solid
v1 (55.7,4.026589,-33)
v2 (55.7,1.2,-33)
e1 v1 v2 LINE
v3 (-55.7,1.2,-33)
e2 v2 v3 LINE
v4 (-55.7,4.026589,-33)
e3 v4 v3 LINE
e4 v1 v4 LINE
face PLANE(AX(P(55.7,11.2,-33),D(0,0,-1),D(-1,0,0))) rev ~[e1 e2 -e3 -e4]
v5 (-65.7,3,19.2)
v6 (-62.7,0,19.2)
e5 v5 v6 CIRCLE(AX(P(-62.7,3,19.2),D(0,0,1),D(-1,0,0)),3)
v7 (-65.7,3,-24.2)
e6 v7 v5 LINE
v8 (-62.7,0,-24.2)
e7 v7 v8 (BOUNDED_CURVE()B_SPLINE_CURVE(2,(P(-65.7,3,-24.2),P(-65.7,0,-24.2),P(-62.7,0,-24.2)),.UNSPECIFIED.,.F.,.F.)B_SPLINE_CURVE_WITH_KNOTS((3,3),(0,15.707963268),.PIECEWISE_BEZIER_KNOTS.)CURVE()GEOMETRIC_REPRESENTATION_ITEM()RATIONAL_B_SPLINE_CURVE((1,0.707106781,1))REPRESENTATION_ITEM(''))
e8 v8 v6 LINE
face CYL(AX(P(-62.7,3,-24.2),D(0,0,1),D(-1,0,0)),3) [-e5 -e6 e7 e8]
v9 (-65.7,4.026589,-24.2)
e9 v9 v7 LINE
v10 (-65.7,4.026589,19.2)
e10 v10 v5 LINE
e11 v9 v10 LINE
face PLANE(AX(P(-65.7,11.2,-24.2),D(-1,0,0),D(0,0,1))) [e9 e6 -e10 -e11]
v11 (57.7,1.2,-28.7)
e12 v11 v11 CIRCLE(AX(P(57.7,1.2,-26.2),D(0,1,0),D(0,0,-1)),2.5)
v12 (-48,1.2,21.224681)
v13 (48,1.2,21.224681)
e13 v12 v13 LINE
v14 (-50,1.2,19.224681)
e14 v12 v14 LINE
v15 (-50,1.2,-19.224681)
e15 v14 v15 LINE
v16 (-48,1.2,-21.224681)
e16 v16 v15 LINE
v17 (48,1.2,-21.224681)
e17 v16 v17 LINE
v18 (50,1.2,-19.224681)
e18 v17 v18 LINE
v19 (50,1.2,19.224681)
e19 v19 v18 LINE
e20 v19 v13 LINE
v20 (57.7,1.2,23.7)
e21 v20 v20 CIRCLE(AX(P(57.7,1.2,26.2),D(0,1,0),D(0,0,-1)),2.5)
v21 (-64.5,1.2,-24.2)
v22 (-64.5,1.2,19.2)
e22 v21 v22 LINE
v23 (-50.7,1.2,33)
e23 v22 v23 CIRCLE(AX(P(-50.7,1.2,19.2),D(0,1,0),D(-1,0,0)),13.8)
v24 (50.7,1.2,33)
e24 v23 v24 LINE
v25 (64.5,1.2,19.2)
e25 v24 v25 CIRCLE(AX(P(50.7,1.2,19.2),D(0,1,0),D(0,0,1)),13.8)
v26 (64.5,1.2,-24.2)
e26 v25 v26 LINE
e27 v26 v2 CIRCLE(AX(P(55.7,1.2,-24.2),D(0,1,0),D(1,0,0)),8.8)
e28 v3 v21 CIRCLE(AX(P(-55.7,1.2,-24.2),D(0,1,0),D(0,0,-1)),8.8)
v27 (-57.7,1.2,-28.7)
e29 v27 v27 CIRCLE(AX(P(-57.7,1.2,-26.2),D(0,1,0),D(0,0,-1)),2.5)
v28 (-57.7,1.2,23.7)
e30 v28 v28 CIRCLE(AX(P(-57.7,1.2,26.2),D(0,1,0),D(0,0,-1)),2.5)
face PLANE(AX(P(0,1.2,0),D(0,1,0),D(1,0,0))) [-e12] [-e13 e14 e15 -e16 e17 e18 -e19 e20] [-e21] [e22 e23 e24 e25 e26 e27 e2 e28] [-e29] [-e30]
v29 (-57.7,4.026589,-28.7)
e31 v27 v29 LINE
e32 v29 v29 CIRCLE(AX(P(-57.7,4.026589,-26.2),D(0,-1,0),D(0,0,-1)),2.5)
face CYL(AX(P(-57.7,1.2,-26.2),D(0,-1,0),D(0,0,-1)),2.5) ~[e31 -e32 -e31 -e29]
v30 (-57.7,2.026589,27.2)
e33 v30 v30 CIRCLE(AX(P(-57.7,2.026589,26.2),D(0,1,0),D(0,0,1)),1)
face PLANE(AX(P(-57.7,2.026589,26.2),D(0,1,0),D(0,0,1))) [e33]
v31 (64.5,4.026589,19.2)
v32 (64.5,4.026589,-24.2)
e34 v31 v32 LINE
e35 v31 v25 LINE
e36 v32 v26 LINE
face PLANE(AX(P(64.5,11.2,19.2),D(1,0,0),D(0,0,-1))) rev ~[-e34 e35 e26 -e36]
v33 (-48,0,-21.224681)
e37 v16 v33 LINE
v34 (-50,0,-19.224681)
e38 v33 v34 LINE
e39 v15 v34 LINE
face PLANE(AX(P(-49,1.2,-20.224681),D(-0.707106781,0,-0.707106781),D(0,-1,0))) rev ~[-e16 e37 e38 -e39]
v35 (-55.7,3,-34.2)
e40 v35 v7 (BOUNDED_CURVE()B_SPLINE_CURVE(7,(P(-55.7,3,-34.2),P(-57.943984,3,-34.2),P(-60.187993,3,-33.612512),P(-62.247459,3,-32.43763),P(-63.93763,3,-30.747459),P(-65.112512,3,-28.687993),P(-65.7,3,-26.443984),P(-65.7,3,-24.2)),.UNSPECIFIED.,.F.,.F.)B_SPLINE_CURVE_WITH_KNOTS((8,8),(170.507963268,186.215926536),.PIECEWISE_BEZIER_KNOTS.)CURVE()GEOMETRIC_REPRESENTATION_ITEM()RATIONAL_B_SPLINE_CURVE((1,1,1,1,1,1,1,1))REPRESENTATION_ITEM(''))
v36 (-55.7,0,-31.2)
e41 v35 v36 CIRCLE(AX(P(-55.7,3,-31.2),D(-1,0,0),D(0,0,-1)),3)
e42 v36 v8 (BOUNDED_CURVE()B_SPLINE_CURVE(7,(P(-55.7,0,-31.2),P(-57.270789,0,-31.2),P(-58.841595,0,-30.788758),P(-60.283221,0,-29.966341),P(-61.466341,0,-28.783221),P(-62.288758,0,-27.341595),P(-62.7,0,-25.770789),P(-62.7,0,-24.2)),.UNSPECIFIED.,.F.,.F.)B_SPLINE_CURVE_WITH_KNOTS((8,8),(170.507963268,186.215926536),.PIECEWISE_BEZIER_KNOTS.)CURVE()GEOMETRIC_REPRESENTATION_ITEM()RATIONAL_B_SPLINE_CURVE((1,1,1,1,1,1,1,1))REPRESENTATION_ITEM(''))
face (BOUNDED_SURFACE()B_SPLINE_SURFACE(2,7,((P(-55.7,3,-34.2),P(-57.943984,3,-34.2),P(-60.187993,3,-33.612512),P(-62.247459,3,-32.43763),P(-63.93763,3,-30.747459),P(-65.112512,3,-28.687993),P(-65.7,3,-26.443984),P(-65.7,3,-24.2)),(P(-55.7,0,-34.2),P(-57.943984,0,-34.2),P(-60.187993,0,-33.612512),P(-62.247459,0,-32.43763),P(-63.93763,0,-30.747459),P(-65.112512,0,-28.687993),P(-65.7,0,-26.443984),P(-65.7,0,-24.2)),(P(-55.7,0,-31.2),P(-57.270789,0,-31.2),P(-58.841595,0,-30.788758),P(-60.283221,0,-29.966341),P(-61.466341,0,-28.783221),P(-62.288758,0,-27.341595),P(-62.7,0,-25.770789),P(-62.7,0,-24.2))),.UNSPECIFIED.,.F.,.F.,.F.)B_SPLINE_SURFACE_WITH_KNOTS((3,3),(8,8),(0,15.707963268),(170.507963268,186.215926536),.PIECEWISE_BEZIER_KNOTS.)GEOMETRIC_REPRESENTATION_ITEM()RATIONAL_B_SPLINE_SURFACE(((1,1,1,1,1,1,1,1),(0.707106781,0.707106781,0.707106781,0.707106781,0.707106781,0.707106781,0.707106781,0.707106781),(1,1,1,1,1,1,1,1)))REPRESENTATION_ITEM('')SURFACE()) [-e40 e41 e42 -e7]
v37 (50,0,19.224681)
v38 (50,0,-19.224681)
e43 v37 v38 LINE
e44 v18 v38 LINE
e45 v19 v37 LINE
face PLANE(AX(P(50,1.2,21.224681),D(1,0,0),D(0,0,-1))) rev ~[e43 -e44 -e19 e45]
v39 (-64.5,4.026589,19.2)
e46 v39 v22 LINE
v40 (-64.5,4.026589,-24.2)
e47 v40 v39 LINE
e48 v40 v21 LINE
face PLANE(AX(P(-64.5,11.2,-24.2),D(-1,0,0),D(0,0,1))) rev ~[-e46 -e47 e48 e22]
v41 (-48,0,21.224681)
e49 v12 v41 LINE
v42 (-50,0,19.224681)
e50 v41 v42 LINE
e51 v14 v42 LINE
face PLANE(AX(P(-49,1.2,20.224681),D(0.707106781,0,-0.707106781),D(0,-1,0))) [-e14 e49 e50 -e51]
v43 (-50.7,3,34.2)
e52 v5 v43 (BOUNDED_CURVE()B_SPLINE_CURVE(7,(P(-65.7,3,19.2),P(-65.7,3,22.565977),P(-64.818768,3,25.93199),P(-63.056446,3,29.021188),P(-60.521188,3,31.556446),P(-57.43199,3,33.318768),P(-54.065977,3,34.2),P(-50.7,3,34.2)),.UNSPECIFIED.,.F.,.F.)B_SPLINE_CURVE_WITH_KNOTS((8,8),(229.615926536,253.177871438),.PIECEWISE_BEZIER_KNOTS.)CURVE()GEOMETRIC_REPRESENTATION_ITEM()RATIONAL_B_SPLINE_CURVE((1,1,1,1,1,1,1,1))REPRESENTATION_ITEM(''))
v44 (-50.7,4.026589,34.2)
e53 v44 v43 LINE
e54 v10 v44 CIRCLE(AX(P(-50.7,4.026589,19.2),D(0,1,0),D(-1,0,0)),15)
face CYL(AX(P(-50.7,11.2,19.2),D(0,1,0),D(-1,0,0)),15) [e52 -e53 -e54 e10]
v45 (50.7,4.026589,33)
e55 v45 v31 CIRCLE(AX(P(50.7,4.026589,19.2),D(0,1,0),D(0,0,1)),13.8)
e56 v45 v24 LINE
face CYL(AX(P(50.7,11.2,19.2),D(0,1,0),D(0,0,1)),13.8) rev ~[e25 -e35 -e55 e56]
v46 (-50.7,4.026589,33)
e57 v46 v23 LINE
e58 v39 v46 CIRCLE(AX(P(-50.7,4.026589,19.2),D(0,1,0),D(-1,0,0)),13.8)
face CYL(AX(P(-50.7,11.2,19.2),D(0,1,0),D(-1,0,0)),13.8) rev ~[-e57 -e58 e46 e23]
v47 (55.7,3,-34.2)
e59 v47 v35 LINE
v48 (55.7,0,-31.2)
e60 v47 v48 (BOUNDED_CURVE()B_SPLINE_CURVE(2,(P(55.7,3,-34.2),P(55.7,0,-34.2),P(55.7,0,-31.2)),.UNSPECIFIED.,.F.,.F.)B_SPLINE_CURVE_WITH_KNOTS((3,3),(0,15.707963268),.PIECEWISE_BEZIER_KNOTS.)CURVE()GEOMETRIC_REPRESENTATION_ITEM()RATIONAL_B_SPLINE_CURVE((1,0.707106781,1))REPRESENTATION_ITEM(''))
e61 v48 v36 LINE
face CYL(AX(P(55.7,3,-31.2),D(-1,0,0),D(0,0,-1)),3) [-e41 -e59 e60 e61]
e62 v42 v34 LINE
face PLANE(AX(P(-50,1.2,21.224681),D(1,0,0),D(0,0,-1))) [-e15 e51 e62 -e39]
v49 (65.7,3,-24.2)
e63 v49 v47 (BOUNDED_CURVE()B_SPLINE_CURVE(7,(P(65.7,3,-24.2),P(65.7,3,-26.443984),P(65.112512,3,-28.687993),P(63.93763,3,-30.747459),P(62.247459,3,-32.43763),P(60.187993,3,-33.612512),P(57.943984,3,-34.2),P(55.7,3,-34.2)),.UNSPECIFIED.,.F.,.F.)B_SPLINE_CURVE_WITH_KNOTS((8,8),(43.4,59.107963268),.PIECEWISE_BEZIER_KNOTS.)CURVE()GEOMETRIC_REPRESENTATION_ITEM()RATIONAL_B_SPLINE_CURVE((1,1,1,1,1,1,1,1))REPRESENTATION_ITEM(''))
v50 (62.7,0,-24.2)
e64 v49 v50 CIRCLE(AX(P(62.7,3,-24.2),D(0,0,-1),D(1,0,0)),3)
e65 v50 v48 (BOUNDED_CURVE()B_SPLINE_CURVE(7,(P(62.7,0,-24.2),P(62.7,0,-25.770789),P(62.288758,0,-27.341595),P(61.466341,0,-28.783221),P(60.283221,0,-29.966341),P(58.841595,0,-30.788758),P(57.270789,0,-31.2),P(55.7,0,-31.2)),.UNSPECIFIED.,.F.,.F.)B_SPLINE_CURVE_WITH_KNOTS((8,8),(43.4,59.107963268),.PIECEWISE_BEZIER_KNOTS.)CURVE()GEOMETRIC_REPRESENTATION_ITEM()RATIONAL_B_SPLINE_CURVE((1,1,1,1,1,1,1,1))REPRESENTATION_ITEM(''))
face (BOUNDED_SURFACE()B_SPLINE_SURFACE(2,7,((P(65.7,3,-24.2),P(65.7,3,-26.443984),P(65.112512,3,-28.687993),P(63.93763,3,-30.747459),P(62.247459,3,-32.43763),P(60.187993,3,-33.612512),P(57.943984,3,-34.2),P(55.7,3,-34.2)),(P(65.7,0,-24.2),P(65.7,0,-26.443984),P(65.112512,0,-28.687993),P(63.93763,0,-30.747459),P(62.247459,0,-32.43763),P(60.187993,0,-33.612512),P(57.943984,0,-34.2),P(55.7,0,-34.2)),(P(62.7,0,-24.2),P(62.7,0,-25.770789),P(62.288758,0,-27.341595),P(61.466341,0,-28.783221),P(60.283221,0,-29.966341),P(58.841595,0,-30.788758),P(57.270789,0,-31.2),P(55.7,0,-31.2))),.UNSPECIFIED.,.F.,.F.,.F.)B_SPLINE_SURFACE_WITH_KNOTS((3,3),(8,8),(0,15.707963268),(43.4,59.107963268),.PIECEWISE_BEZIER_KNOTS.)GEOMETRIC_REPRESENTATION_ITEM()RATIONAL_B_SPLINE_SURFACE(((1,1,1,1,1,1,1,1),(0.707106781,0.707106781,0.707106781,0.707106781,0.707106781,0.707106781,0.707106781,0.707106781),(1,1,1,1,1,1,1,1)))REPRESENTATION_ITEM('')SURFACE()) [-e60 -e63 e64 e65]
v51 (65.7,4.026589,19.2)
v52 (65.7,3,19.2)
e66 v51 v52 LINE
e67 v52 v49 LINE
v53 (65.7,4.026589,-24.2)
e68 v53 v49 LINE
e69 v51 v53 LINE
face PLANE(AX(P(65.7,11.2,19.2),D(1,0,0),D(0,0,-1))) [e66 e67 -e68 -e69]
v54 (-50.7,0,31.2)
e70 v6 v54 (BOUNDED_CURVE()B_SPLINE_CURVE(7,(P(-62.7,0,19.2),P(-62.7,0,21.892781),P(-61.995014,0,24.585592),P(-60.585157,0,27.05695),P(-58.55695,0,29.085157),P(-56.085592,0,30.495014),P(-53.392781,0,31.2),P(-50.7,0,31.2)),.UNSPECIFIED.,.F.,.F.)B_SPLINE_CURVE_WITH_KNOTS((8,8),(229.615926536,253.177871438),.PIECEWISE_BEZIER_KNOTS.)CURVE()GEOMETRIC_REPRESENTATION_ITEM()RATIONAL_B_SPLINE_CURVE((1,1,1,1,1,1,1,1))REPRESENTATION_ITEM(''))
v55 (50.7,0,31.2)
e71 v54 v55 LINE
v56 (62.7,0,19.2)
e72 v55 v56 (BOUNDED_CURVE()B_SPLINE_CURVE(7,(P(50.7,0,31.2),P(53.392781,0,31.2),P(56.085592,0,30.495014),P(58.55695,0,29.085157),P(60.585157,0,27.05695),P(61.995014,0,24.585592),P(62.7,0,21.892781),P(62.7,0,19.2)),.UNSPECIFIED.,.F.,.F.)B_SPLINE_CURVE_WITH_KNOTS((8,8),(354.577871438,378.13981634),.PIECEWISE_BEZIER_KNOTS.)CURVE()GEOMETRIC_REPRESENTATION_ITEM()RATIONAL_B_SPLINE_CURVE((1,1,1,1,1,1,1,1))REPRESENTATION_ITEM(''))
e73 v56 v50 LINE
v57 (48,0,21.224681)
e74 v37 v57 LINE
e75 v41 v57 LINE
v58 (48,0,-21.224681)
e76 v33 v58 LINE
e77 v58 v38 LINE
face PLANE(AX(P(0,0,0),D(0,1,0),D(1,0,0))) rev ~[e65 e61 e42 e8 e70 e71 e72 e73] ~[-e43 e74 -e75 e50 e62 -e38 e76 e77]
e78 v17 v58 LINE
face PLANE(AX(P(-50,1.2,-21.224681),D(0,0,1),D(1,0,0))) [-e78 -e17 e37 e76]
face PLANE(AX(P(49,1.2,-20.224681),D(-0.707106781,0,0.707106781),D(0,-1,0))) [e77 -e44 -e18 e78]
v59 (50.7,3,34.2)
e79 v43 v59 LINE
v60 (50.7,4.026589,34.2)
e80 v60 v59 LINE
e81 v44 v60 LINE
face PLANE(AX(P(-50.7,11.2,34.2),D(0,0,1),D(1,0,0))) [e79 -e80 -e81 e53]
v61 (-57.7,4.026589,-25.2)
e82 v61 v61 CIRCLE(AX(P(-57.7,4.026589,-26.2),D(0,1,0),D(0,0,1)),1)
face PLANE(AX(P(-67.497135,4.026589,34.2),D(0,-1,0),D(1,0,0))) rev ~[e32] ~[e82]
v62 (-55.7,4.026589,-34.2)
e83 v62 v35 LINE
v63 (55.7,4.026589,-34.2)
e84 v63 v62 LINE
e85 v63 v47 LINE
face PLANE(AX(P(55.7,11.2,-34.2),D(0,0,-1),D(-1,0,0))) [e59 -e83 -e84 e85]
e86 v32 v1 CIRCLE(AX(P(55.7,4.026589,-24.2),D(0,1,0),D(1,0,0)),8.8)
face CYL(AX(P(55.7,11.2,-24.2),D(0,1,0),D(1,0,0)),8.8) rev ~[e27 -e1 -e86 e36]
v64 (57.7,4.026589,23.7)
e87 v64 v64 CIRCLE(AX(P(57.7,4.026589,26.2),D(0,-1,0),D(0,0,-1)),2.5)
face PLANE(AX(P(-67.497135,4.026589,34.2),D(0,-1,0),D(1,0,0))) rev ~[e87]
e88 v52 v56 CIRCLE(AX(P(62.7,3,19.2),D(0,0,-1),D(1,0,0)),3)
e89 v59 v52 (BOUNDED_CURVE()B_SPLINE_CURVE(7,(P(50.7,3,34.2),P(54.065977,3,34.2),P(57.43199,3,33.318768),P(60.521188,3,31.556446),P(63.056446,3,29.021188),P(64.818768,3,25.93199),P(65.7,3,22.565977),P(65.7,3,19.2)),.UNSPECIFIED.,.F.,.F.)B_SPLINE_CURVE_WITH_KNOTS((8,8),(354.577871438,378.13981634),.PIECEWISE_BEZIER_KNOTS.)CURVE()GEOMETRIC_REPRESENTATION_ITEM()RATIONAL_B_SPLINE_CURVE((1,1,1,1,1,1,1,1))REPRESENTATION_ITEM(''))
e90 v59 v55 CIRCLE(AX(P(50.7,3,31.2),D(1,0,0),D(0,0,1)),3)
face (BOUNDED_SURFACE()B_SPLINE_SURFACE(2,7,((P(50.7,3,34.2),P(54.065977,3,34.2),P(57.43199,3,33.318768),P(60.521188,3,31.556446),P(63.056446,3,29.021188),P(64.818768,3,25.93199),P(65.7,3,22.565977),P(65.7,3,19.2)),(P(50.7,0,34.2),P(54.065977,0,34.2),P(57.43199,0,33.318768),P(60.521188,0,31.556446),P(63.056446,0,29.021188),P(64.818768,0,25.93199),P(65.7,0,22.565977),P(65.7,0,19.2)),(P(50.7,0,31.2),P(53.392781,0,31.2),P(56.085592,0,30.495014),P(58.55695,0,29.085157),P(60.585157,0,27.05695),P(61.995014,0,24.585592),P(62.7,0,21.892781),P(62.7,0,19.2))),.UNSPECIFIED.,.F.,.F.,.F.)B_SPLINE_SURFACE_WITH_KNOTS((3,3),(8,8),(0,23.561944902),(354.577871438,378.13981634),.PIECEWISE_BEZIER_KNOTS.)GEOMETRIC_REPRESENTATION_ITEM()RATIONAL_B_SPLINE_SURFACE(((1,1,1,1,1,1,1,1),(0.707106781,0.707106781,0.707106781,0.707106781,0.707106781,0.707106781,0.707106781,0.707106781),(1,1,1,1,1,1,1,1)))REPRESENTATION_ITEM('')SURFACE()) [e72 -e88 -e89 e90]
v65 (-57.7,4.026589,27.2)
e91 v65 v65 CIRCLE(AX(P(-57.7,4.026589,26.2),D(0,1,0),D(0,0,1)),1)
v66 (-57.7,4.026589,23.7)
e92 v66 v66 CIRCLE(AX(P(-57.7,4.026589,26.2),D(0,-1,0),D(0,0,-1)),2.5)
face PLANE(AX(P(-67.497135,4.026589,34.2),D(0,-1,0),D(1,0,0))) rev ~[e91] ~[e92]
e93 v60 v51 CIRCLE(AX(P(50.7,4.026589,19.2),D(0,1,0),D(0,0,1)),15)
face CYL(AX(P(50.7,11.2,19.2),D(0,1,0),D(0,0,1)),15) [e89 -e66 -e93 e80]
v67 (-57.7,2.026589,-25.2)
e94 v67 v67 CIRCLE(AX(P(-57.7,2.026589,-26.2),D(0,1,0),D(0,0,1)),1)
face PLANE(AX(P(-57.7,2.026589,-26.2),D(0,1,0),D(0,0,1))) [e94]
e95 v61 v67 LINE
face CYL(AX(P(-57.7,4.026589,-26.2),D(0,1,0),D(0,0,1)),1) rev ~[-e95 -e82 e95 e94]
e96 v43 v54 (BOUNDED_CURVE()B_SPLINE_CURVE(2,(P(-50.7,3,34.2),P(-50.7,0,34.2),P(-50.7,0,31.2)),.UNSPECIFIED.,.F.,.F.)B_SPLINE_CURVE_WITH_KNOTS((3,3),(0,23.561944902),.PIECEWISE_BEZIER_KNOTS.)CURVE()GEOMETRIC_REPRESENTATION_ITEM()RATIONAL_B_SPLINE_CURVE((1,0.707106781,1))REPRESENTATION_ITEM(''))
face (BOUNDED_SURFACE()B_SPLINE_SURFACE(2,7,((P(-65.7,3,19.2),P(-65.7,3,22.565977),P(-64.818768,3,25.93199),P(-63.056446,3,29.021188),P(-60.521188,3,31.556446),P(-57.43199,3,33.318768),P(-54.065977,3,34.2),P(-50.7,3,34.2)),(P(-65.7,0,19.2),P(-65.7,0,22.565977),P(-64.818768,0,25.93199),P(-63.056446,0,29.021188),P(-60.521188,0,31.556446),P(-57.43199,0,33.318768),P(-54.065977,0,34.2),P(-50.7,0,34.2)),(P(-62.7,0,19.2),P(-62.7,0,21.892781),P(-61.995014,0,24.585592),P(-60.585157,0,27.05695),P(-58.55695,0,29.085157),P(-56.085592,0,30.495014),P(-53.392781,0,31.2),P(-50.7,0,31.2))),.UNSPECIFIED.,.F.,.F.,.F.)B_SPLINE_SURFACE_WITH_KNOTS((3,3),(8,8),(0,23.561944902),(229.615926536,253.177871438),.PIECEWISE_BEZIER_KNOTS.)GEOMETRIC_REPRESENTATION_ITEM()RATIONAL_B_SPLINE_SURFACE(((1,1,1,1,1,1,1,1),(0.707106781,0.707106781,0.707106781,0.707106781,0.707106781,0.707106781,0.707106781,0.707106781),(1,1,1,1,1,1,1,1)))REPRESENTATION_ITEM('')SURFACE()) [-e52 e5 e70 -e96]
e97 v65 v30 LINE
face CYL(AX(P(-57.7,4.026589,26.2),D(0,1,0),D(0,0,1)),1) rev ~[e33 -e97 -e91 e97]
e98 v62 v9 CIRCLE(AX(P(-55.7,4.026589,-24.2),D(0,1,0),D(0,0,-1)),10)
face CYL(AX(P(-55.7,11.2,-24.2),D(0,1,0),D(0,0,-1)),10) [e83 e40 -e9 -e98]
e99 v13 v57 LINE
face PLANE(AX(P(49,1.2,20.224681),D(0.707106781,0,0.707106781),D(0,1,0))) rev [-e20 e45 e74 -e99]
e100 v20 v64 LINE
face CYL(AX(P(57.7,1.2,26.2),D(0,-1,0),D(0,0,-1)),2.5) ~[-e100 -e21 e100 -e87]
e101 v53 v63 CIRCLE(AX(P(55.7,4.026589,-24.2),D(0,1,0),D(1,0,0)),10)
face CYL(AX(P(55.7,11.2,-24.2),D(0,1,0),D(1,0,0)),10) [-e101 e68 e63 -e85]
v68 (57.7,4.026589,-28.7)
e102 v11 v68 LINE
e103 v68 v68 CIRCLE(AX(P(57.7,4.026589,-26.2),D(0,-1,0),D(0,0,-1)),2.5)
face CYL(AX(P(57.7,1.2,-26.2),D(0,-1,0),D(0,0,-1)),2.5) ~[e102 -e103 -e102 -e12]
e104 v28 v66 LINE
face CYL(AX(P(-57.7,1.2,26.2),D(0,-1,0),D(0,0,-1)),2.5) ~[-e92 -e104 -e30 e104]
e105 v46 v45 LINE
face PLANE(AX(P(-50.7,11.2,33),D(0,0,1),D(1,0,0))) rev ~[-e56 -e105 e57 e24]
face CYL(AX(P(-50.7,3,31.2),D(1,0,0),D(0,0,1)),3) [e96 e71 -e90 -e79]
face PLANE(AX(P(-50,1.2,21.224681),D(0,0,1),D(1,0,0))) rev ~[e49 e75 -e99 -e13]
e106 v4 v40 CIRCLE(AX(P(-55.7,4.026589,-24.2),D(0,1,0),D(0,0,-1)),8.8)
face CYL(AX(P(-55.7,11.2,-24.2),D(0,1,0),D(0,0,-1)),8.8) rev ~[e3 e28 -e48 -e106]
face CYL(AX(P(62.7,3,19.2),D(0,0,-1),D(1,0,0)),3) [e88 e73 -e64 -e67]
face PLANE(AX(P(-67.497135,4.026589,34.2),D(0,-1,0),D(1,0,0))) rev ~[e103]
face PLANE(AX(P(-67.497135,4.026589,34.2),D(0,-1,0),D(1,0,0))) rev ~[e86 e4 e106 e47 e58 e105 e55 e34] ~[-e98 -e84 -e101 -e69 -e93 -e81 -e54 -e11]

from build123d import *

# Parameters (mm, degrees)
ESBO_O1_W                    = 131.4
ESBO_O1_H                    = 68.4
BASE_DEPTH                   = 1.2
FILETE1_R                    = 15
FILETE2_R                    = 15
FILETE3_R                    = 10
FILETE4_R                    = 10
PAREDES_START                = 10
PAREDES_DEPTH                = 10
FILETE_DA_BASE_R             = 3
ESBO_O6_R                    = 2.5
SUPORTE_DOS_PARAFUSOS_DEPTH  = 10
ESBO_O7_R                    = 1
FURO_PARA_OS_PARAFUSOS_DEPTH = 6
ESBO_O8_W                    = 100
ESBO_O8_H                    = 42.449361702
CORTE_EXTRUS_O1_DEPTH        = 10
ESBO_O9_W                    = 134.994270452
ESBO_O9_H                    = 14.346821692
CORTE_EXTRUS_O2_DEPTH        = 96.501256536
CHANFRO8_SIZE                = 2
CHANFRO9_SIZE                = 2
CHANFRO10_SIZE               = 2
CHANFRO11_SIZE               = 2
ESBO_O10_R                   = 1
CORTE_EXTRUS_O4_DEPTH        = 2


with BuildPart() as part:
    # Esboço1 → Base (new body)
    with BuildSketch(Plane(origin=(0, 0, 0), x_dir=(1, 0, 0), z_dir=(0, 1, 0))):
        Rectangle(ESBO_O1_W, ESBO_O1_H)
    extrude(amount=BASE_DEPTH)

    # Filete1
    filete1_edges = [part.edges().sort_by_distance(p)[0] for p in [
        (65.7, 0.6, 34.2),
    ]]
    fillet(filete1_edges, radius=FILETE1_R)

    # Filete2
    filete2_edges = [part.edges().sort_by_distance(p)[0] for p in [
        (-65.7, 0.6, 34.2),
    ]]
    fillet(filete2_edges, radius=FILETE2_R)

    # Filete3
    filete3_edges = [part.edges().sort_by_distance(p)[0] for p in [
        (65.7, 0.6, -34.2),
    ]]
    fillet(filete3_edges, radius=FILETE3_R)

    # Filete4
    filete4_edges = [part.edges().sort_by_distance(p)[0] for p in [
        (-65.7, 0.6, -34.2),
    ]]
    fillet(filete4_edges, radius=FILETE4_R)

    # Esboço5 → Paredes (add)
    with BuildSketch(Plane(origin=(0, 1.2, 0), x_dir=(1, 0, 0), z_dir=(0, 1, 0)).offset(PAREDES_START)):
        with BuildLine():
            Line((55.7, 34.2), (-55.7, 34.2))
            ThreePointArc((-55.7, 34.2), (-62.771067812, 31.271067812), (-65.7, 24.2))
            Line((-65.7, 24.2), (-65.7, -19.2))
            ThreePointArc((-65.7, -19.2), (-61.306601718, -29.806601718), (-50.7, -34.2))
            Line((-50.7, -34.2), (50.7, -34.2))
            ThreePointArc((50.7, -34.2), (61.306601718, -29.806601718), (65.7, -19.2))
            Line((65.7, -19.2), (65.7, 24.2))
            ThreePointArc((65.7, 24.2), (62.771067812, 31.271067812), (55.7, 34.2))
        make_face()
        with BuildLine():
            Line((55.7, 33), (-55.7, 33))
            ThreePointArc((-55.7, 33), (-61.922539674, 30.422539674), (-64.5, 24.2))
            Line((-64.5, 24.2), (-64.5, -19.2))
            ThreePointArc((-64.5, -19.2), (-60.45807358, -28.95807358), (-50.7, -33))
            Line((-50.7, -33), (50.7, -33))
            ThreePointArc((50.7, -33), (60.45807358, -28.95807358), (64.5, -19.2))
            Line((64.5, -19.2), (64.5, 24.2))
            ThreePointArc((64.5, 24.2), (61.922539674, 30.422539674), (55.7, 33))
        make_face(mode=Mode.SUBTRACT)
    extrude(amount=-PAREDES_DEPTH)

    # Filete da base
    filete_da_base_edges = [part.edges().sort_by_distance(p)[0] for p in [
        (65.7, 0, -2.5),
        (61.306601718, 0, 29.806601718),
        (0, 0, 34.2),
        (-61.306601718, 0, 29.806601718),
        (0, 0, -34.2),
        (62.771067812, 0, -31.271067812),
        (-65.7, 0, -2.5),
        (-62.771067812, 0, -31.271067812),
    ]]
    fillet(filete_da_base_edges, radius=FILETE_DA_BASE_R)

    # Esboço6 → Suporte dos parafusos (add)
    with BuildSketch(Plane(origin=(0, 1.2, 0), x_dir=(1, 0, 0), z_dir=(0, 1, 0))):
        with Locations(Location((-57.7, 26.2, 0), (0, 0, 90))):
            Circle(ESBO_O6_R)
        with Locations(Location((-57.7, -26.2, 0), (0, 0, 90))):
            Circle(ESBO_O6_R)
        with Locations(Location((57.7, 26.2, 0), (0, 0, 90))):
            Circle(ESBO_O6_R)
        with Locations(Location((57.7, -26.2, 0), (0, 0, 90))):
            Circle(ESBO_O6_R)
    extrude(amount=SUPORTE_DOS_PARAFUSOS_DEPTH)

    # Esboço7 → Furo para os parafusos (cut)
    with BuildSketch(Plane(origin=(0, 11.2, 0), x_dir=(1, 0, 0), z_dir=(0, 1, 0))):
        with Locations(Location((-57.7, 26.2, 0), (0, 0, 270))):
            Circle(ESBO_O7_R)
        with Locations(Location((-57.7, -26.2, 0), (0, 0, 270))):
            Circle(ESBO_O7_R)
        with Locations(Location((57.7, -26.2, 0), (0, 0, 270))):
            Circle(ESBO_O7_R)
        with Locations(Location((57.7, 26.2, 0), (0, 0, 270))):
            Circle(ESBO_O7_R)
    extrude(amount=-FURO_PARA_OS_PARAFUSOS_DEPTH, mode=Mode.SUBTRACT)

    # Esboço8 → Corte-extrusão1 (cut)
    with BuildSketch(Plane(origin=(0, 1.2, 0), x_dir=(1, 0, 0), z_dir=(0, 1, 0))):
        Rectangle(ESBO_O8_W, ESBO_O8_H)
    extrude(amount=-CORTE_EXTRUS_O1_DEPTH, mode=Mode.SUBTRACT)

    # Esboço9 → Corte-extrusão2 (cut, through all)
    with BuildSketch(Plane.XY.offset(34.2)):
        with Locations((0, 11.2)):
            Rectangle(ESBO_O9_W, ESBO_O9_H)
    extrude(amount=-CORTE_EXTRUS_O2_DEPTH, mode=Mode.SUBTRACT)

    # Chanfro8
    chanfro8_edges = [part.edges().sort_by_distance(p)[0] for p in [
        (-50, 0.6, -21.224680851),
    ]]
    chamfer(chanfro8_edges, length=CHANFRO8_SIZE)

    # Chanfro9
    chanfro9_edges = [part.edges().sort_by_distance(p)[0] for p in [
        (50, 0.6, -21.224680851),
    ]]
    chamfer(chanfro9_edges, length=CHANFRO9_SIZE)

    # Chanfro10
    chanfro10_edges = [part.edges().sort_by_distance(p)[0] for p in [
        (50, 0.6, 21.224680851),
    ]]
    chamfer(chanfro10_edges, length=CHANFRO10_SIZE)

    # Chanfro11
    chanfro11_edges = [part.edges().sort_by_distance(p)[0] for p in [
        (-50, 0.6, 21.224680851),
    ]]
    chamfer(chanfro11_edges, length=CHANFRO11_SIZE)

    # Esboço10 → Corte-extrusão4 (cut)
    with BuildSketch(Plane(origin=(0, 4.026589154, 0), x_dir=(1, 0, 0), z_dir=(0, 1, 0))):
        with Locations(Location((-57.7, 26.2, 0), (0, 0, 270))):
            Circle(ESBO_O10_R)
        with Locations(Location((-57.7, -26.2, 0), (0, 0, 270))):
            Circle(ESBO_O10_R)
    extrude(amount=-CORTE_EXTRUS_O4_DEPTH, mode=Mode.SUBTRACT)


solid = part.part
